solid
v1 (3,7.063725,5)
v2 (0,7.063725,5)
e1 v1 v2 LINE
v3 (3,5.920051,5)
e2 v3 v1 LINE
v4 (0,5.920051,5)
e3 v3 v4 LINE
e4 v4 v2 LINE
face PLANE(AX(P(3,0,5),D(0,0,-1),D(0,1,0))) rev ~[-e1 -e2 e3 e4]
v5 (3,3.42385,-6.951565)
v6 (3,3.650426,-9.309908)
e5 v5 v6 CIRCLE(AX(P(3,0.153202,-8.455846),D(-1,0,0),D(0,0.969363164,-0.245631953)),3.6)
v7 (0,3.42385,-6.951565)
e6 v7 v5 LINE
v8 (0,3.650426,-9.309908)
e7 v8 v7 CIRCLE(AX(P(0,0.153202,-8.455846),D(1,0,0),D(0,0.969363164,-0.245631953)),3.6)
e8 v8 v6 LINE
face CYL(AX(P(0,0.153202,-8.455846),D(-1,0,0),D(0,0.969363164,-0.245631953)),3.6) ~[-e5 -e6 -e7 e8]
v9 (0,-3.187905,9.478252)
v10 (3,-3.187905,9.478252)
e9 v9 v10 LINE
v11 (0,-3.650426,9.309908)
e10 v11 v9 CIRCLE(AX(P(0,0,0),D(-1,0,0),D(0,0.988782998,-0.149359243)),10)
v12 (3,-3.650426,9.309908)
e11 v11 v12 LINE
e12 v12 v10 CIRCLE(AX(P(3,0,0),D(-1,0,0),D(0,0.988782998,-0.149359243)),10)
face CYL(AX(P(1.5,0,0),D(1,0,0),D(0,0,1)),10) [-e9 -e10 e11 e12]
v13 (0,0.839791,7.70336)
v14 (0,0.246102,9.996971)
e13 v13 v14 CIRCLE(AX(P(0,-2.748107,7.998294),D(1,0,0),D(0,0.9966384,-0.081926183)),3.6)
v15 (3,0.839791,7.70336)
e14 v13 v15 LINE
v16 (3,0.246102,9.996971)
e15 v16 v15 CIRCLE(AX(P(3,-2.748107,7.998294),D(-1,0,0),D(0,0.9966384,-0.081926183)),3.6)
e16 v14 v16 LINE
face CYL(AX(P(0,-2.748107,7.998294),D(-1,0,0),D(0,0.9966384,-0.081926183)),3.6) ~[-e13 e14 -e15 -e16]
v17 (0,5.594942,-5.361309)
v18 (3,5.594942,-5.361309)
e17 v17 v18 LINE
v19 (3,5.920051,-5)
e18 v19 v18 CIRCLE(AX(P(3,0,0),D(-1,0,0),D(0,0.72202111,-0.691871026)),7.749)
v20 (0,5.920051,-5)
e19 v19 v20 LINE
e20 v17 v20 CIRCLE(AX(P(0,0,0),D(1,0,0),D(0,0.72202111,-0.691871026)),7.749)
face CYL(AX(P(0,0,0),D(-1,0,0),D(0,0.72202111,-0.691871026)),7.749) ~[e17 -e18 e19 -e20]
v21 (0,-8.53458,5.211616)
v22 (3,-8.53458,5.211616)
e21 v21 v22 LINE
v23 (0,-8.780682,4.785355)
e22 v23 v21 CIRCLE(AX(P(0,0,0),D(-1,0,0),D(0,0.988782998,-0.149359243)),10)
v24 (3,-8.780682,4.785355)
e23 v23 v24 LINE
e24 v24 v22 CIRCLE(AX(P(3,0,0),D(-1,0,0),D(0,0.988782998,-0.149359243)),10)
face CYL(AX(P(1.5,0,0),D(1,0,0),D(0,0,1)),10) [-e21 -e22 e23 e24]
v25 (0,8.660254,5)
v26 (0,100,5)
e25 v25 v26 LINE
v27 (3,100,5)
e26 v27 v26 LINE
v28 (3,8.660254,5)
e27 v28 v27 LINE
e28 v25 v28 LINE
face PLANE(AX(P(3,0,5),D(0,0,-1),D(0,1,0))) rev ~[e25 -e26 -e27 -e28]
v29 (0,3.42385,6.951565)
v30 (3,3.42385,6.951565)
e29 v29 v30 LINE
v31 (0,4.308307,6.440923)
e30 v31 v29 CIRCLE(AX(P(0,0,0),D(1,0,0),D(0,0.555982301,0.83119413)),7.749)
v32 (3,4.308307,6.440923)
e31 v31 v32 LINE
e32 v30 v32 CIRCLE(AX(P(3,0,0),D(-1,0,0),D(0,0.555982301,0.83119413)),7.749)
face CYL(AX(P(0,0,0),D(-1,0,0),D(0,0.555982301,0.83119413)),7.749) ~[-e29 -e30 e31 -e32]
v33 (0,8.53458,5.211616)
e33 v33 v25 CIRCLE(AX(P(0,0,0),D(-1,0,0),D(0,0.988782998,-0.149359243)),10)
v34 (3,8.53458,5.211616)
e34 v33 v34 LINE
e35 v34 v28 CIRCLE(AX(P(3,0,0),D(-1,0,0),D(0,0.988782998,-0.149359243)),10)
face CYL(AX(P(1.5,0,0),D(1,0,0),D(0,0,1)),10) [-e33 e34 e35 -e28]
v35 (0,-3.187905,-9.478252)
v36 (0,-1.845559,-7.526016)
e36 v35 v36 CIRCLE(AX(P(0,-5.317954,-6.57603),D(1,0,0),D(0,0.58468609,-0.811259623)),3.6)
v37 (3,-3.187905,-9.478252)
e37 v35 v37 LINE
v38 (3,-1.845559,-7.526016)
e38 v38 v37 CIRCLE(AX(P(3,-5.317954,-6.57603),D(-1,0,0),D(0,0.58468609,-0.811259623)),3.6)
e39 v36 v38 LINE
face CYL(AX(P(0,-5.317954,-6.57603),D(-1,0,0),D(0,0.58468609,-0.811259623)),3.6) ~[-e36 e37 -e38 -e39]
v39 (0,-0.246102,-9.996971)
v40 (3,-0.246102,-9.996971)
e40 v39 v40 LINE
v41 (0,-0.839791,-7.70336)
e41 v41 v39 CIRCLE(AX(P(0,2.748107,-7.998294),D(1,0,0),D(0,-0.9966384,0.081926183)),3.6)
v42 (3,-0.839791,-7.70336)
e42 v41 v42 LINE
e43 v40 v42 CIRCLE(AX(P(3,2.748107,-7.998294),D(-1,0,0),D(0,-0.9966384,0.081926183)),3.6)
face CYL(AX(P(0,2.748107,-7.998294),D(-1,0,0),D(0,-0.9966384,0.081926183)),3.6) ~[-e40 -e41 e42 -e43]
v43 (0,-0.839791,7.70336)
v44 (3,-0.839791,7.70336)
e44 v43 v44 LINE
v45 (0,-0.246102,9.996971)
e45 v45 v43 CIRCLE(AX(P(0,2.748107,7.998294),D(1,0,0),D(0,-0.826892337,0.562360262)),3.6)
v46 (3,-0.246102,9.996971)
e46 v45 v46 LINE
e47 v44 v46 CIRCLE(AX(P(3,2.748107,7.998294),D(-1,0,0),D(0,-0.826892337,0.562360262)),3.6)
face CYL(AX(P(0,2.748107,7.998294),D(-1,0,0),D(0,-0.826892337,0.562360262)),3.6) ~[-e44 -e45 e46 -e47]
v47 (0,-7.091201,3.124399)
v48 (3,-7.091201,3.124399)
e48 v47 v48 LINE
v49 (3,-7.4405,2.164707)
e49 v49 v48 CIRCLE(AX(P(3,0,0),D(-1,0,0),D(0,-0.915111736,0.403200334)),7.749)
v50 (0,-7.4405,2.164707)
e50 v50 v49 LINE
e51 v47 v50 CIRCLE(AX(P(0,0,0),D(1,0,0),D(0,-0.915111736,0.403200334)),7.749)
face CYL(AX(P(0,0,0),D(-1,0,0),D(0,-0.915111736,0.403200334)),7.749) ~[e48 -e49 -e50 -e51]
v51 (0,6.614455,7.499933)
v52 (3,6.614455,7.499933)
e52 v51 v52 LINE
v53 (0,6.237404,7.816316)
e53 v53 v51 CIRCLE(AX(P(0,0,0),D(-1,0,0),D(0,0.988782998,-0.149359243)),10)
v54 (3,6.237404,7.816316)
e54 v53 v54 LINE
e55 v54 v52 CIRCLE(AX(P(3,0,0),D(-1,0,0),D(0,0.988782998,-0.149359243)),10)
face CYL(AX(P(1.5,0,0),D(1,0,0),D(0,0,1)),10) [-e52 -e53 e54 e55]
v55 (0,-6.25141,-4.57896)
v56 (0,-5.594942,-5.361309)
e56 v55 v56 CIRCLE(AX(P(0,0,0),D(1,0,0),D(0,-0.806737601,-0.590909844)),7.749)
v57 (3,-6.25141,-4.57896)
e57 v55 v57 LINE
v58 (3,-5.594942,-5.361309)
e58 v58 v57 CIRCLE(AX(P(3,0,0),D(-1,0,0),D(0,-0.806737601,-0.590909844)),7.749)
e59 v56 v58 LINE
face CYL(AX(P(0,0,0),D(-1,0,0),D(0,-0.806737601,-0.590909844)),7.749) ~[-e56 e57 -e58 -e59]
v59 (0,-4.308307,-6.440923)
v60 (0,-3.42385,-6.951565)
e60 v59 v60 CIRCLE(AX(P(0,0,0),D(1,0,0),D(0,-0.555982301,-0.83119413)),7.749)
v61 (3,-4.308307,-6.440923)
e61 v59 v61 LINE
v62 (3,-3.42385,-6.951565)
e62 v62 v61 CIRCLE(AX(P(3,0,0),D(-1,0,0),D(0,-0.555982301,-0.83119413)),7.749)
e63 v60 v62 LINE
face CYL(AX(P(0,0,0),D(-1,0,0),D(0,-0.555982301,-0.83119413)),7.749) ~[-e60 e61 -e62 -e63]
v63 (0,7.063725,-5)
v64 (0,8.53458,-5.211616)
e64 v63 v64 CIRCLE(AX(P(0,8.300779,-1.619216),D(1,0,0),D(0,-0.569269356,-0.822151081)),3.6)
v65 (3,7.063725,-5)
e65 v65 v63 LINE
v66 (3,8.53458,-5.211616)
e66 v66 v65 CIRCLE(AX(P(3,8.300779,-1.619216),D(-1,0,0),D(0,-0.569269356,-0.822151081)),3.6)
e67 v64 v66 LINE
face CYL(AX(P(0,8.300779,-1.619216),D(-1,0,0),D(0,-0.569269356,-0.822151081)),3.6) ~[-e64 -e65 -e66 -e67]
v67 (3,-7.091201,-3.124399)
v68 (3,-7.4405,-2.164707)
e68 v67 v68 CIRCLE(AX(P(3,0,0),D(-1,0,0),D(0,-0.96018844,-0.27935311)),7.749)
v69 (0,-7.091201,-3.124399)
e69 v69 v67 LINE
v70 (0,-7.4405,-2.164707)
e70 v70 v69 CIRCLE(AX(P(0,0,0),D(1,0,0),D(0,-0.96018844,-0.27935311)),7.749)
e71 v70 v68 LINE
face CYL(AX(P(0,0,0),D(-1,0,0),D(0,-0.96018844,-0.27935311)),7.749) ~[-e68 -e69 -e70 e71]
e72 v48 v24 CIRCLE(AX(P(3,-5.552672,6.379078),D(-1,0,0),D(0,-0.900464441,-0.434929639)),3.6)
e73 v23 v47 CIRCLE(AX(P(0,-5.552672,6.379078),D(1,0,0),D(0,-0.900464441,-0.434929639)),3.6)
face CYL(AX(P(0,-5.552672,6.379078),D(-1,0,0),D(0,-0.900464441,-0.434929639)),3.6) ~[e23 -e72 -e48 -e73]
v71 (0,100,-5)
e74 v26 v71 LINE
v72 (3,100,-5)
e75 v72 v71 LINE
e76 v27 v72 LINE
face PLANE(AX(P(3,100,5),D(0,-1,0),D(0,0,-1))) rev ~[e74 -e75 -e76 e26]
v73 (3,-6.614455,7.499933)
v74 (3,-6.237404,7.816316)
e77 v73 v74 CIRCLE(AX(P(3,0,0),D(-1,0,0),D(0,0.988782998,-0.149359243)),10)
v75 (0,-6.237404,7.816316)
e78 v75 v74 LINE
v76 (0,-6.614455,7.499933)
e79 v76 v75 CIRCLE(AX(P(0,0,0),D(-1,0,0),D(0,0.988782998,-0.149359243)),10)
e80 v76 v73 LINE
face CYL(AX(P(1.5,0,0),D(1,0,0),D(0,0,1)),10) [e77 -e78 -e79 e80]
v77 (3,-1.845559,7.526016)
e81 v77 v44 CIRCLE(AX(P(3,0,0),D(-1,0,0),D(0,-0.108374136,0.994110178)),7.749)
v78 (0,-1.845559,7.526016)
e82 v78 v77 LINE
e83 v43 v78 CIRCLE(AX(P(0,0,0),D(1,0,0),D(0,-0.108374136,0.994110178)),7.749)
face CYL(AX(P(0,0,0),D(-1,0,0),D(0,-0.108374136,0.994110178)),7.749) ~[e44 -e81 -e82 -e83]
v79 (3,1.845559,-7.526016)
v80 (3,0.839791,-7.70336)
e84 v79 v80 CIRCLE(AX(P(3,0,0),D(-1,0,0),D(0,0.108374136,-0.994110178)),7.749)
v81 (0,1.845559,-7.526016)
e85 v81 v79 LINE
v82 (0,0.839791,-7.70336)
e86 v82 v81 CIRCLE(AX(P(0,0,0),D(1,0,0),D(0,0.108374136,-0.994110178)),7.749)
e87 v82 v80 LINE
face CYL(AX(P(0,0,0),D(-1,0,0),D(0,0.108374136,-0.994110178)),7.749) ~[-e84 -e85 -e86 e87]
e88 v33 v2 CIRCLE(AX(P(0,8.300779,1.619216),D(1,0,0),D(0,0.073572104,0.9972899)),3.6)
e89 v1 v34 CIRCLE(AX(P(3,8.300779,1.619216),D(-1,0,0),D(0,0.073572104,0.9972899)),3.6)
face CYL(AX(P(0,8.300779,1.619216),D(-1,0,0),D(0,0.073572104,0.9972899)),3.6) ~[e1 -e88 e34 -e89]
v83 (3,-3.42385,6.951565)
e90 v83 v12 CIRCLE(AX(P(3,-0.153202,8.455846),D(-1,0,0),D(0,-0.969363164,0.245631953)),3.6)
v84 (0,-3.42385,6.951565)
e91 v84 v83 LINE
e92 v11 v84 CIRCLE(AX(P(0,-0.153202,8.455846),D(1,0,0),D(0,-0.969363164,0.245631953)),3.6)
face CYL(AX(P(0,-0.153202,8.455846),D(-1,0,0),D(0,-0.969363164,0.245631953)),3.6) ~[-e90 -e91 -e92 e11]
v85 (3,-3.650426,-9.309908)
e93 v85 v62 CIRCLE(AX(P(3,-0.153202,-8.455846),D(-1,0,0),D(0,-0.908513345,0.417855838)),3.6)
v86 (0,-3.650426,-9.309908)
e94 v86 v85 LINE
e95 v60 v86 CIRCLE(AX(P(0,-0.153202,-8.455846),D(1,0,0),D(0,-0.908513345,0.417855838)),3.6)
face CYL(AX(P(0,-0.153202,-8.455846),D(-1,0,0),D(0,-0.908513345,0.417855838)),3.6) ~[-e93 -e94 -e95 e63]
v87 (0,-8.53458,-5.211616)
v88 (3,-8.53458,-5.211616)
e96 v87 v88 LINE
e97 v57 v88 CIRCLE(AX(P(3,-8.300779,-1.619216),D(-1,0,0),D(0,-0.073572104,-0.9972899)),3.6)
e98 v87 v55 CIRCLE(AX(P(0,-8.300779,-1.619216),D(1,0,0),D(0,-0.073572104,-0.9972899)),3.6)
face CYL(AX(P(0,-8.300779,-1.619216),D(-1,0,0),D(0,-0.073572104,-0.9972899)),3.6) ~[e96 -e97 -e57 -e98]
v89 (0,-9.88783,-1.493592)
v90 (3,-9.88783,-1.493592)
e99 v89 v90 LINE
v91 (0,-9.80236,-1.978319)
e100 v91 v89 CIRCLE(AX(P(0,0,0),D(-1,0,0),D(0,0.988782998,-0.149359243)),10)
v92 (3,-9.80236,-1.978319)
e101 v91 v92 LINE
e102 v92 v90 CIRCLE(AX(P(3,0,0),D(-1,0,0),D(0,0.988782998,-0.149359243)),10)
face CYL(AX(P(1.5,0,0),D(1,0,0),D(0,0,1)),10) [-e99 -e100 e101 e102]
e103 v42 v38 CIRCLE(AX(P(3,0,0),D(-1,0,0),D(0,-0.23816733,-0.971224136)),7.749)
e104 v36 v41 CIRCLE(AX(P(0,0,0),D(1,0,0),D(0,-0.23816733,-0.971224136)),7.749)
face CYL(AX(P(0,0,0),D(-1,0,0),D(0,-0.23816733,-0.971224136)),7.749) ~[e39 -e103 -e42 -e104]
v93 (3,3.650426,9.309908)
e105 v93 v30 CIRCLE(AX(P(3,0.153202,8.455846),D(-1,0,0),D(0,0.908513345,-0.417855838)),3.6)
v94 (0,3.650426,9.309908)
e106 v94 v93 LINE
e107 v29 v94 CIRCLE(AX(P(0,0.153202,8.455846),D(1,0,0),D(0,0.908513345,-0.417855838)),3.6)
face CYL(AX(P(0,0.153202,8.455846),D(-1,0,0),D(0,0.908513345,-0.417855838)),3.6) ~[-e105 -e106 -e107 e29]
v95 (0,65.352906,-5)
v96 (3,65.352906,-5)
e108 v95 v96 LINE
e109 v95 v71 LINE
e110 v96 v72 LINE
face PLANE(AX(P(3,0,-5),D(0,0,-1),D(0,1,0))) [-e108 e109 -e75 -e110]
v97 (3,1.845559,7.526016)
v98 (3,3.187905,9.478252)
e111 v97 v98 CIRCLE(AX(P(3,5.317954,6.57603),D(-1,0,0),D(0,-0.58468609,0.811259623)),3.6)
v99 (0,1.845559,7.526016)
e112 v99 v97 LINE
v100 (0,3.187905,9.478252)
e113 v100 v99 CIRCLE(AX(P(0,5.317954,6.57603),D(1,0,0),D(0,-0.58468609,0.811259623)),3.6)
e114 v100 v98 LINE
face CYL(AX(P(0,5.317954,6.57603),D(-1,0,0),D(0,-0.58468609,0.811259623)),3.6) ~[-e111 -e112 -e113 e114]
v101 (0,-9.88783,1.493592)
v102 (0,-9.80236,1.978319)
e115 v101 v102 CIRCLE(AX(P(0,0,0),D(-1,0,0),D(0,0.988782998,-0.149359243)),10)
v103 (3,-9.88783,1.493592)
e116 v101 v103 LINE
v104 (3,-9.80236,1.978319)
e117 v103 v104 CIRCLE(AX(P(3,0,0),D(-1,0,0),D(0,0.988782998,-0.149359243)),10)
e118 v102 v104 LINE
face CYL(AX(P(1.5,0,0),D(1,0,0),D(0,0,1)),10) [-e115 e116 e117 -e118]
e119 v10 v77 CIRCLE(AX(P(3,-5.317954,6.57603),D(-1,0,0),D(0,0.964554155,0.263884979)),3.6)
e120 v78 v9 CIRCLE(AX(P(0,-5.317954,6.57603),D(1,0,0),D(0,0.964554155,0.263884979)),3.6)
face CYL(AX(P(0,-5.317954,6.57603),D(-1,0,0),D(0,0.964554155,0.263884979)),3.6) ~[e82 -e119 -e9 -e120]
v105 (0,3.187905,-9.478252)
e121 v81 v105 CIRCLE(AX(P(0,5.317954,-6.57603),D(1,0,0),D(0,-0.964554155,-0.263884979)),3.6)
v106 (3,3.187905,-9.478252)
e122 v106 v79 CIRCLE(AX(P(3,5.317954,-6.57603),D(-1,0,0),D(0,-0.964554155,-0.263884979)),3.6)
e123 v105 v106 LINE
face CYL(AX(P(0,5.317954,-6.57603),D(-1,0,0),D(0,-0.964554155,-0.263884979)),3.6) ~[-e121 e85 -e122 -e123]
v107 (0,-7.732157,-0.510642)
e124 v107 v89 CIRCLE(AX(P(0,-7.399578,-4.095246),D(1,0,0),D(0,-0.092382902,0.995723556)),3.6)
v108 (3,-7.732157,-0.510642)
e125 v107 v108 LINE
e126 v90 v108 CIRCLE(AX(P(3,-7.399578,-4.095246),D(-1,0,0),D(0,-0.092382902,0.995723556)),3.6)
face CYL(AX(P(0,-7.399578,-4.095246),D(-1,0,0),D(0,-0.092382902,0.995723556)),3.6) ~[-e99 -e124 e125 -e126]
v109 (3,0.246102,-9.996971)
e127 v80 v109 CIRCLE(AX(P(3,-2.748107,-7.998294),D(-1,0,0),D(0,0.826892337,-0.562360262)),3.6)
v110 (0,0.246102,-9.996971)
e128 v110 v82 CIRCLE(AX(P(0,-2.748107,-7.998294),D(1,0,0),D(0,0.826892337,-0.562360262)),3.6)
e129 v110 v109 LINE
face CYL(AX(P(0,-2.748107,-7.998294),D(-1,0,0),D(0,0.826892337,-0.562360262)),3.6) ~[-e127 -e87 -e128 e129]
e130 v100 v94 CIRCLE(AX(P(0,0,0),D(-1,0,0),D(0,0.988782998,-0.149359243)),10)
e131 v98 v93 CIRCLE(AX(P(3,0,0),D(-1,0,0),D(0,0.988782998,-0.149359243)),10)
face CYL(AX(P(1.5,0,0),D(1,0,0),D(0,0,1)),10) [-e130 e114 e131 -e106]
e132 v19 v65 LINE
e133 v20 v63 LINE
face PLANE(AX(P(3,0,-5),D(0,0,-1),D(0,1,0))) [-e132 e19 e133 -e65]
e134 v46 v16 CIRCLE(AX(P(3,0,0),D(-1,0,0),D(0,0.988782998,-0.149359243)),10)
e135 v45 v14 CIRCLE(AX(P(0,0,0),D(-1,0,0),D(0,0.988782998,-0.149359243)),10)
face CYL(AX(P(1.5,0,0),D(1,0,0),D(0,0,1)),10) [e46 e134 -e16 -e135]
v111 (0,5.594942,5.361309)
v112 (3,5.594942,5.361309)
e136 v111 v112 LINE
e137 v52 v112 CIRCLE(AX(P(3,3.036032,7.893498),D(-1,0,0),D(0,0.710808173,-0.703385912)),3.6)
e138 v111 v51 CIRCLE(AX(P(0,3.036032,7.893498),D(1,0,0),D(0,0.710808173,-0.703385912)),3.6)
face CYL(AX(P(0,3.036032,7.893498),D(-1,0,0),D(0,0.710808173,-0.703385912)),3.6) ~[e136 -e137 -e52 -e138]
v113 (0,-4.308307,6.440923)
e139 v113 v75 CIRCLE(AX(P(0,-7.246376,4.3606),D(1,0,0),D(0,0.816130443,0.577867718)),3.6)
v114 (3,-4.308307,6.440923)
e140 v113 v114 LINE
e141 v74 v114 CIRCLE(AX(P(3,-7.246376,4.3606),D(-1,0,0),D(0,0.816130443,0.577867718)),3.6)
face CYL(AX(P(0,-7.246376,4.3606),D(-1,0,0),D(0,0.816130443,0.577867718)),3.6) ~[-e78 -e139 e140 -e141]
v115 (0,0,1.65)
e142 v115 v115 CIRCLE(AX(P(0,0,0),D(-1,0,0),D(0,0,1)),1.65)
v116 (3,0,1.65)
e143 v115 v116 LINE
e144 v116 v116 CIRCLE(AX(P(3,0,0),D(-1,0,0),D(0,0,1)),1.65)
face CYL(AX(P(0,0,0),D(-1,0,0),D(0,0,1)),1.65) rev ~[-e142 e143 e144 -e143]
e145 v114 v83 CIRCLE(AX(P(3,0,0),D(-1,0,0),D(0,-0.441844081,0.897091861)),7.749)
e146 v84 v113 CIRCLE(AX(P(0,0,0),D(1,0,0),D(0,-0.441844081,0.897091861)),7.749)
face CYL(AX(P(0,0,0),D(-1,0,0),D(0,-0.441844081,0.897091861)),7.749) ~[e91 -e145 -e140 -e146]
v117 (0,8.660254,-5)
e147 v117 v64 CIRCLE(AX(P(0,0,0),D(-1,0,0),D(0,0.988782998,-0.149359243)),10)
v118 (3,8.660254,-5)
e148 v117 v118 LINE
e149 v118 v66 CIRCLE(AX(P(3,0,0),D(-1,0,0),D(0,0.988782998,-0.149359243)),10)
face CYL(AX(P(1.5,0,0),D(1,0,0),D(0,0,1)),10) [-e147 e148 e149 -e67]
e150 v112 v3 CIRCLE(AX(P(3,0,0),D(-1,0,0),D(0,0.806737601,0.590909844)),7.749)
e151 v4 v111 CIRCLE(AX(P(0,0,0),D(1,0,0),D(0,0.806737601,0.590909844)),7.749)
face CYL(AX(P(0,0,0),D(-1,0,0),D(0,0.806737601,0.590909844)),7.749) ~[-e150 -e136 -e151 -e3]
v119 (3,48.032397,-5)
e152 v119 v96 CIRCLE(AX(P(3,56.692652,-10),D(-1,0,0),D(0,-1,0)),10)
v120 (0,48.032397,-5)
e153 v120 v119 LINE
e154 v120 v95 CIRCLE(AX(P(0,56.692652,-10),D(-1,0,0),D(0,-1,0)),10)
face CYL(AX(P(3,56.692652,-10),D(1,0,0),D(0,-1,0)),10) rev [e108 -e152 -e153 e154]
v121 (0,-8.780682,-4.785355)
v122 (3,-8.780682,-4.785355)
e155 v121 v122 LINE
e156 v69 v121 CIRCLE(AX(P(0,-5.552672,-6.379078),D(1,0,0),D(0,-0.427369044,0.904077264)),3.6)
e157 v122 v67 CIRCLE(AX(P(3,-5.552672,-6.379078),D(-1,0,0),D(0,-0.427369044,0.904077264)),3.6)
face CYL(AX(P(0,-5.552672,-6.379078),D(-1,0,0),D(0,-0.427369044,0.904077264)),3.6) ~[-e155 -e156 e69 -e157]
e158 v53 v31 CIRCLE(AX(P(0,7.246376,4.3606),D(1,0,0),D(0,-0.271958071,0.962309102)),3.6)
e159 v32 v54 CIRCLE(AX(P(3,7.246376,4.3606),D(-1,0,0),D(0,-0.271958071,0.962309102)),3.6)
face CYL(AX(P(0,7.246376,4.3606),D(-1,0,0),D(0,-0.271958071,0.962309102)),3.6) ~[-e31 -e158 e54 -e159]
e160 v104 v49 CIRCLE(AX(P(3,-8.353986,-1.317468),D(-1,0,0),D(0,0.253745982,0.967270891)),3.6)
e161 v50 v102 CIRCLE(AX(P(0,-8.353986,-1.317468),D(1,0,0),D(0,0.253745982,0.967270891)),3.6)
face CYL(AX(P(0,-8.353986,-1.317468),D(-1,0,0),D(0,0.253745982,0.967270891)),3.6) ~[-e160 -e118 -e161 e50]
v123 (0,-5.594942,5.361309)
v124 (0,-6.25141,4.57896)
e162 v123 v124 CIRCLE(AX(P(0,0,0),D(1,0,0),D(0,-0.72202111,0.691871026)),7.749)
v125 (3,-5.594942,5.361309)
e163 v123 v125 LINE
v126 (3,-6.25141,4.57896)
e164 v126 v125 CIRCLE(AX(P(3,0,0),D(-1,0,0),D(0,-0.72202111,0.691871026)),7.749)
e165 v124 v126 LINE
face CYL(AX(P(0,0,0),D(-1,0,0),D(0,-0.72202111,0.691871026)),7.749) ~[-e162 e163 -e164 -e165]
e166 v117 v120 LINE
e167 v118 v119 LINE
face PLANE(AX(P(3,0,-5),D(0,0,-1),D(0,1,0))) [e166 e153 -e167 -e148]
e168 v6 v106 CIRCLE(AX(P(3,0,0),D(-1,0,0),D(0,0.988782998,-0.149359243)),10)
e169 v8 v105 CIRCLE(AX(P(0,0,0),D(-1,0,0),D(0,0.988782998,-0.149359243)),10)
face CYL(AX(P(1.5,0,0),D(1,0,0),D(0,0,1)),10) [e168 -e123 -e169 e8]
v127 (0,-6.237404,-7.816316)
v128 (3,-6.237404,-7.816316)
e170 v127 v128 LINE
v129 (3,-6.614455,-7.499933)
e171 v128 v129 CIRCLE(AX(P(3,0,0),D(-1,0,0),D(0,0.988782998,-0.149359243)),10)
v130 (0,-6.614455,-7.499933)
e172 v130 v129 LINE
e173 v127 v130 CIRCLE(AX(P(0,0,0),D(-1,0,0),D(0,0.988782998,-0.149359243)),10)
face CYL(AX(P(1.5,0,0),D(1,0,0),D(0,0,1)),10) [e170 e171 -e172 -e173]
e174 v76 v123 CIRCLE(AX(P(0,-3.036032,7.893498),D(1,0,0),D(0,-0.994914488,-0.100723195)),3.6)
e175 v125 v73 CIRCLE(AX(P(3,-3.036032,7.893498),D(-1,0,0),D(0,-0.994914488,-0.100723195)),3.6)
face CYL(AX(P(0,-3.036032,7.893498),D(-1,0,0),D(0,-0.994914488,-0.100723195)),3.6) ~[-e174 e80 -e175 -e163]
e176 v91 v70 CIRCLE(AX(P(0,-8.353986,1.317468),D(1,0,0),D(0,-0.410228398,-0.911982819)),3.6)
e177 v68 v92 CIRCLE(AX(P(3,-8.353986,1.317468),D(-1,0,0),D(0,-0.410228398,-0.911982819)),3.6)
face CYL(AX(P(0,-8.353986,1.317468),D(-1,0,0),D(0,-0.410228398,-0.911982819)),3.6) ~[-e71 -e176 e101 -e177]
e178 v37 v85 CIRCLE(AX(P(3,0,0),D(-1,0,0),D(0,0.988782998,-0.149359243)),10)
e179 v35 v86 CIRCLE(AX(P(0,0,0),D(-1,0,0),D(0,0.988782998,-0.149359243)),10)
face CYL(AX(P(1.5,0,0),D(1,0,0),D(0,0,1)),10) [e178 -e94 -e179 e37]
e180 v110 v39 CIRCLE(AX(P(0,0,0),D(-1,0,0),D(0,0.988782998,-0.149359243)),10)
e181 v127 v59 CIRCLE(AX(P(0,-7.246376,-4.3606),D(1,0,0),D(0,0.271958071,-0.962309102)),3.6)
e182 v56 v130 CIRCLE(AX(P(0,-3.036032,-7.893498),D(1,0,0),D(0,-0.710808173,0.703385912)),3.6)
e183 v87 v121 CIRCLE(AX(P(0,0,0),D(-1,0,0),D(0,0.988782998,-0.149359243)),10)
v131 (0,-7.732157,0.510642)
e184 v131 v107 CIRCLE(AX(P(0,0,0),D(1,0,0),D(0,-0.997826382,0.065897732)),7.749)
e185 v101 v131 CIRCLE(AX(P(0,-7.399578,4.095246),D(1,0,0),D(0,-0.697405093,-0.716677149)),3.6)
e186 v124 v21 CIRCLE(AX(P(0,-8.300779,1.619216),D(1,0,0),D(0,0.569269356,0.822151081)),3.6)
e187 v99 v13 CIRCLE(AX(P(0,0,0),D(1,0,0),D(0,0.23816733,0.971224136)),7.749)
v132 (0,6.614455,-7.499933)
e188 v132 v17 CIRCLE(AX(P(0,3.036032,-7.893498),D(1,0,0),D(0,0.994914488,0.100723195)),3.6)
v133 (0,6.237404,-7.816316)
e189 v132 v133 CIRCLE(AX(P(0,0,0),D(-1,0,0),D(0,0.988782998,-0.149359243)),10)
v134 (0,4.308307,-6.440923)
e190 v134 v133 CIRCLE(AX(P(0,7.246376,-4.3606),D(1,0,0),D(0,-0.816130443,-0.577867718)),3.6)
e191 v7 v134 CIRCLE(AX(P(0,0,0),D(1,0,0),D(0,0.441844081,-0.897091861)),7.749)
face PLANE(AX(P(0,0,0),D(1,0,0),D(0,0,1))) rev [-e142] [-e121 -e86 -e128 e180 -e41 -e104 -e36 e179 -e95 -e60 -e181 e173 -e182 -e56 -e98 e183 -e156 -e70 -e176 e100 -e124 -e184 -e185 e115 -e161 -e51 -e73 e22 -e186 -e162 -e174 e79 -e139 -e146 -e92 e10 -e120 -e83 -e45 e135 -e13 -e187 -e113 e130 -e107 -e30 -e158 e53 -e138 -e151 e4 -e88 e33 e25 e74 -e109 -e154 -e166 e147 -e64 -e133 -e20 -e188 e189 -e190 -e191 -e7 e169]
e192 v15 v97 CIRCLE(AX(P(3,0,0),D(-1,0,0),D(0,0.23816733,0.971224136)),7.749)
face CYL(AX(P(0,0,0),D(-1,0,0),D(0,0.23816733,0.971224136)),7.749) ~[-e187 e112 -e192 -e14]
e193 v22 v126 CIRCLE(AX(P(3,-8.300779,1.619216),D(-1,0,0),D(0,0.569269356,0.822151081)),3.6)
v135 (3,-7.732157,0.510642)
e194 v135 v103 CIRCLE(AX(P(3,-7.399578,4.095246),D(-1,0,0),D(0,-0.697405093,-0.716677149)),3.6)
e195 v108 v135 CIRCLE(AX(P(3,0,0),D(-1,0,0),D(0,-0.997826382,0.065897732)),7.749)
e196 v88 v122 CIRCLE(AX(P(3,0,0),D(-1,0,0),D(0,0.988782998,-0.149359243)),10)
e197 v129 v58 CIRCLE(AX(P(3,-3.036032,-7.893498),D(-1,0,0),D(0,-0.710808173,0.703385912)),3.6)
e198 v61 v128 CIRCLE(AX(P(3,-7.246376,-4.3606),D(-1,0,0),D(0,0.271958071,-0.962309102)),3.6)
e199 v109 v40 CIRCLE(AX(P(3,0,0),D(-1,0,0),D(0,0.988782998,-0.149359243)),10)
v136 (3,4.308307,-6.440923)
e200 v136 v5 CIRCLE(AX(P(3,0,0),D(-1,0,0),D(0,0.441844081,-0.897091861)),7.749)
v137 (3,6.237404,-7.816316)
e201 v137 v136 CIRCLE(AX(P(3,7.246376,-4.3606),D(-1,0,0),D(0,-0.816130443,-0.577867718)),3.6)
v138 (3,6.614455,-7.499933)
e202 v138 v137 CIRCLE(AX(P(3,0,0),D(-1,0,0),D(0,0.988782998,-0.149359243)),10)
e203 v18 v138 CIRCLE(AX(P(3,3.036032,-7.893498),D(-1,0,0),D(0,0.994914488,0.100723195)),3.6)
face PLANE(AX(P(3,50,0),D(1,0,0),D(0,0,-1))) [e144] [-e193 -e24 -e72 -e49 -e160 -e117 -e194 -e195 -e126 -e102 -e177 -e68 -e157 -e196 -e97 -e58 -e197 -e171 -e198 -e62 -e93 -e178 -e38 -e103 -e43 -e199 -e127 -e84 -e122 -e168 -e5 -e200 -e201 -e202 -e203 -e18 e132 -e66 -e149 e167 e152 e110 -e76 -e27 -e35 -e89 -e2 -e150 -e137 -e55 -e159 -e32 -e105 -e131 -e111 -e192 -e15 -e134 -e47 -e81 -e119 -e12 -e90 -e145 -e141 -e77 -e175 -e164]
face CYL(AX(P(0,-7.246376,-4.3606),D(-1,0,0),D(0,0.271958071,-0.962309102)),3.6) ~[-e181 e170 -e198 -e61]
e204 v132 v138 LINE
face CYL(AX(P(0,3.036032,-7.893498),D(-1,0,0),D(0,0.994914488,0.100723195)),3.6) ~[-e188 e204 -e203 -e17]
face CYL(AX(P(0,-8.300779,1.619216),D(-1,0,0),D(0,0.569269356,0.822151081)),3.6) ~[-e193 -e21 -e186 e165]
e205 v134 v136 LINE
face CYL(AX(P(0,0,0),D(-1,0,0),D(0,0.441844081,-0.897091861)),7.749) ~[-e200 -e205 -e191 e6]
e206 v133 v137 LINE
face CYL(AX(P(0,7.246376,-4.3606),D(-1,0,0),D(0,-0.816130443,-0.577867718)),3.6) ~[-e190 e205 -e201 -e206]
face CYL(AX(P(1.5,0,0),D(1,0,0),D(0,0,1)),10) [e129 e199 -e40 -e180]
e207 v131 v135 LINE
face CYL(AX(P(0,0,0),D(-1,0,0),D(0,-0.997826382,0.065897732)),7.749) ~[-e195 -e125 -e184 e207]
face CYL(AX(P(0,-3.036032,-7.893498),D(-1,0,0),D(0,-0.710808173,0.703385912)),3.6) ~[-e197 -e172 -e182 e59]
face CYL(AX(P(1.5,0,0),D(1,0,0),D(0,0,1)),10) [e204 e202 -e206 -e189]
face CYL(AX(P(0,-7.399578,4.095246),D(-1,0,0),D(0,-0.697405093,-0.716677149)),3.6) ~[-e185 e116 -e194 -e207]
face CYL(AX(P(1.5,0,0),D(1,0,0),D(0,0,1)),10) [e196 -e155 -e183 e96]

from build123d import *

# Parameters (mm, degrees)
BASPROSKE_W         = 3
BASPROSKE_H         = 10
TOOTHCUT_DEPTH      = 15.456832295
TEETHCUTS_COUNT     = 18
TEETHCUTS_ANGLE     = 340
BORSKE_R            = 0.5
BORE_DEPTH          = 50.0000508
SKETCH7_W           = 10
SKETCH7_H           = 100
BOSS_EXTRUDE5_DEPTH = 3
CUT_EXTRUDE1_DEPTH  = 3
SKETCH11_R          = 1.65
CUT_EXTRUDE2_DEPTH  = 3


with BuildPart() as part:
    # BasProSke → Base-Revolve (revolve)
    with BuildSketch(Plane(origin=(0, 0, 0), x_dir=(1, 0, 0), z_dir=(0, 1, 0)), mode=Mode.PRIVATE) as base_revolve_sk:
        with Locations((1.5, 5)):
            Rectangle(BASPROSKE_W, BASPROSKE_H)
    revolve(base_revolve_sk.sketch.rotate(Axis((-10, 0, 0), (1, 0, 0)), 180), axis=Axis((-10, 0, 0), (1, 0, 0)))

    # TooCutSke → ToothCut (cut, through all)
    with BuildSketch(Plane(origin=(0, 0, 0), x_dir=(0, 0, -1), z_dir=(1, 0, 0))):
        with BuildLine():
            ThreePointArc((0.510641536, 7.732156635), (0, 7.749), (-0.510641536, 7.732156635))
            ThreePointArc((-0.510641536, 7.732156635), (-0.82619259, 8.907320741), (-1.515208602, 9.910236529))
            ThreePointArc((-1.515208602, 9.910236529), (0, 10.0254), (1.515208602, 9.910236529))
            ThreePointArc((1.515208602, 9.910236529), (0.82619259, 8.907320741), (0.510641536, 7.732156635))
        make_face()
    toothcut = extrude(amount=TOOTHCUT_DEPTH, mode=Mode.SUBTRACT)

    # TeethCuts: ToothCut ×18 about axis
    teethcuts_axis = Axis((-10, 0, 0), (1, 0, 0))
    for i in range(1, TEETHCUTS_COUNT):
        add(toothcut.rotate(teethcuts_axis, i * TEETHCUTS_ANGLE / (TEETHCUTS_COUNT - 1)), mode=Mode.SUBTRACT)

    # BorSke → Bore (cut, symmetric)
    with BuildSketch(Plane(origin=(0, 0, 0), x_dir=(0, 0, -1), z_dir=(1, 0, 0))):
        with Locations(Location((0, 0, 0), (0, 0, 180))):
            Circle(BORSKE_R)
    extrude(amount=BORE_DEPTH, both=True, mode=Mode.SUBTRACT)

    # Sketch7 → Boss-Extrude5 (add)
    with BuildSketch(Plane(origin=(3, 0, 0), x_dir=(0, 0, -1), z_dir=(1, 0, 0))):
        with Locations((0, 50)):
            Rectangle(SKETCH7_W, SKETCH7_H)
    extrude(amount=-BOSS_EXTRUDE5_DEPTH)

    # Sketch10 → Cut-Extrude1 (cut)
    with BuildSketch(Plane(origin=(3, 0, 0), x_dir=(0, 0, -1), z_dir=(1, 0, 0))):
        with BuildLine():
            Line((10, 66.692651512), (10, 46.692651512))
            ThreePointArc((10, 46.692651512), (0, 56.692651512), (10, 66.692651512))
        make_face()
    extrude(amount=-CUT_EXTRUDE1_DEPTH, mode=Mode.SUBTRACT)

    # Sketch11 → Cut-Extrude2 (cut)
    with BuildSketch(Plane.ZY):
        Circle(SKETCH11_R)
    extrude(amount=-CUT_EXTRUDE2_DEPTH, mode=Mode.SUBTRACT)


solid = part.part
